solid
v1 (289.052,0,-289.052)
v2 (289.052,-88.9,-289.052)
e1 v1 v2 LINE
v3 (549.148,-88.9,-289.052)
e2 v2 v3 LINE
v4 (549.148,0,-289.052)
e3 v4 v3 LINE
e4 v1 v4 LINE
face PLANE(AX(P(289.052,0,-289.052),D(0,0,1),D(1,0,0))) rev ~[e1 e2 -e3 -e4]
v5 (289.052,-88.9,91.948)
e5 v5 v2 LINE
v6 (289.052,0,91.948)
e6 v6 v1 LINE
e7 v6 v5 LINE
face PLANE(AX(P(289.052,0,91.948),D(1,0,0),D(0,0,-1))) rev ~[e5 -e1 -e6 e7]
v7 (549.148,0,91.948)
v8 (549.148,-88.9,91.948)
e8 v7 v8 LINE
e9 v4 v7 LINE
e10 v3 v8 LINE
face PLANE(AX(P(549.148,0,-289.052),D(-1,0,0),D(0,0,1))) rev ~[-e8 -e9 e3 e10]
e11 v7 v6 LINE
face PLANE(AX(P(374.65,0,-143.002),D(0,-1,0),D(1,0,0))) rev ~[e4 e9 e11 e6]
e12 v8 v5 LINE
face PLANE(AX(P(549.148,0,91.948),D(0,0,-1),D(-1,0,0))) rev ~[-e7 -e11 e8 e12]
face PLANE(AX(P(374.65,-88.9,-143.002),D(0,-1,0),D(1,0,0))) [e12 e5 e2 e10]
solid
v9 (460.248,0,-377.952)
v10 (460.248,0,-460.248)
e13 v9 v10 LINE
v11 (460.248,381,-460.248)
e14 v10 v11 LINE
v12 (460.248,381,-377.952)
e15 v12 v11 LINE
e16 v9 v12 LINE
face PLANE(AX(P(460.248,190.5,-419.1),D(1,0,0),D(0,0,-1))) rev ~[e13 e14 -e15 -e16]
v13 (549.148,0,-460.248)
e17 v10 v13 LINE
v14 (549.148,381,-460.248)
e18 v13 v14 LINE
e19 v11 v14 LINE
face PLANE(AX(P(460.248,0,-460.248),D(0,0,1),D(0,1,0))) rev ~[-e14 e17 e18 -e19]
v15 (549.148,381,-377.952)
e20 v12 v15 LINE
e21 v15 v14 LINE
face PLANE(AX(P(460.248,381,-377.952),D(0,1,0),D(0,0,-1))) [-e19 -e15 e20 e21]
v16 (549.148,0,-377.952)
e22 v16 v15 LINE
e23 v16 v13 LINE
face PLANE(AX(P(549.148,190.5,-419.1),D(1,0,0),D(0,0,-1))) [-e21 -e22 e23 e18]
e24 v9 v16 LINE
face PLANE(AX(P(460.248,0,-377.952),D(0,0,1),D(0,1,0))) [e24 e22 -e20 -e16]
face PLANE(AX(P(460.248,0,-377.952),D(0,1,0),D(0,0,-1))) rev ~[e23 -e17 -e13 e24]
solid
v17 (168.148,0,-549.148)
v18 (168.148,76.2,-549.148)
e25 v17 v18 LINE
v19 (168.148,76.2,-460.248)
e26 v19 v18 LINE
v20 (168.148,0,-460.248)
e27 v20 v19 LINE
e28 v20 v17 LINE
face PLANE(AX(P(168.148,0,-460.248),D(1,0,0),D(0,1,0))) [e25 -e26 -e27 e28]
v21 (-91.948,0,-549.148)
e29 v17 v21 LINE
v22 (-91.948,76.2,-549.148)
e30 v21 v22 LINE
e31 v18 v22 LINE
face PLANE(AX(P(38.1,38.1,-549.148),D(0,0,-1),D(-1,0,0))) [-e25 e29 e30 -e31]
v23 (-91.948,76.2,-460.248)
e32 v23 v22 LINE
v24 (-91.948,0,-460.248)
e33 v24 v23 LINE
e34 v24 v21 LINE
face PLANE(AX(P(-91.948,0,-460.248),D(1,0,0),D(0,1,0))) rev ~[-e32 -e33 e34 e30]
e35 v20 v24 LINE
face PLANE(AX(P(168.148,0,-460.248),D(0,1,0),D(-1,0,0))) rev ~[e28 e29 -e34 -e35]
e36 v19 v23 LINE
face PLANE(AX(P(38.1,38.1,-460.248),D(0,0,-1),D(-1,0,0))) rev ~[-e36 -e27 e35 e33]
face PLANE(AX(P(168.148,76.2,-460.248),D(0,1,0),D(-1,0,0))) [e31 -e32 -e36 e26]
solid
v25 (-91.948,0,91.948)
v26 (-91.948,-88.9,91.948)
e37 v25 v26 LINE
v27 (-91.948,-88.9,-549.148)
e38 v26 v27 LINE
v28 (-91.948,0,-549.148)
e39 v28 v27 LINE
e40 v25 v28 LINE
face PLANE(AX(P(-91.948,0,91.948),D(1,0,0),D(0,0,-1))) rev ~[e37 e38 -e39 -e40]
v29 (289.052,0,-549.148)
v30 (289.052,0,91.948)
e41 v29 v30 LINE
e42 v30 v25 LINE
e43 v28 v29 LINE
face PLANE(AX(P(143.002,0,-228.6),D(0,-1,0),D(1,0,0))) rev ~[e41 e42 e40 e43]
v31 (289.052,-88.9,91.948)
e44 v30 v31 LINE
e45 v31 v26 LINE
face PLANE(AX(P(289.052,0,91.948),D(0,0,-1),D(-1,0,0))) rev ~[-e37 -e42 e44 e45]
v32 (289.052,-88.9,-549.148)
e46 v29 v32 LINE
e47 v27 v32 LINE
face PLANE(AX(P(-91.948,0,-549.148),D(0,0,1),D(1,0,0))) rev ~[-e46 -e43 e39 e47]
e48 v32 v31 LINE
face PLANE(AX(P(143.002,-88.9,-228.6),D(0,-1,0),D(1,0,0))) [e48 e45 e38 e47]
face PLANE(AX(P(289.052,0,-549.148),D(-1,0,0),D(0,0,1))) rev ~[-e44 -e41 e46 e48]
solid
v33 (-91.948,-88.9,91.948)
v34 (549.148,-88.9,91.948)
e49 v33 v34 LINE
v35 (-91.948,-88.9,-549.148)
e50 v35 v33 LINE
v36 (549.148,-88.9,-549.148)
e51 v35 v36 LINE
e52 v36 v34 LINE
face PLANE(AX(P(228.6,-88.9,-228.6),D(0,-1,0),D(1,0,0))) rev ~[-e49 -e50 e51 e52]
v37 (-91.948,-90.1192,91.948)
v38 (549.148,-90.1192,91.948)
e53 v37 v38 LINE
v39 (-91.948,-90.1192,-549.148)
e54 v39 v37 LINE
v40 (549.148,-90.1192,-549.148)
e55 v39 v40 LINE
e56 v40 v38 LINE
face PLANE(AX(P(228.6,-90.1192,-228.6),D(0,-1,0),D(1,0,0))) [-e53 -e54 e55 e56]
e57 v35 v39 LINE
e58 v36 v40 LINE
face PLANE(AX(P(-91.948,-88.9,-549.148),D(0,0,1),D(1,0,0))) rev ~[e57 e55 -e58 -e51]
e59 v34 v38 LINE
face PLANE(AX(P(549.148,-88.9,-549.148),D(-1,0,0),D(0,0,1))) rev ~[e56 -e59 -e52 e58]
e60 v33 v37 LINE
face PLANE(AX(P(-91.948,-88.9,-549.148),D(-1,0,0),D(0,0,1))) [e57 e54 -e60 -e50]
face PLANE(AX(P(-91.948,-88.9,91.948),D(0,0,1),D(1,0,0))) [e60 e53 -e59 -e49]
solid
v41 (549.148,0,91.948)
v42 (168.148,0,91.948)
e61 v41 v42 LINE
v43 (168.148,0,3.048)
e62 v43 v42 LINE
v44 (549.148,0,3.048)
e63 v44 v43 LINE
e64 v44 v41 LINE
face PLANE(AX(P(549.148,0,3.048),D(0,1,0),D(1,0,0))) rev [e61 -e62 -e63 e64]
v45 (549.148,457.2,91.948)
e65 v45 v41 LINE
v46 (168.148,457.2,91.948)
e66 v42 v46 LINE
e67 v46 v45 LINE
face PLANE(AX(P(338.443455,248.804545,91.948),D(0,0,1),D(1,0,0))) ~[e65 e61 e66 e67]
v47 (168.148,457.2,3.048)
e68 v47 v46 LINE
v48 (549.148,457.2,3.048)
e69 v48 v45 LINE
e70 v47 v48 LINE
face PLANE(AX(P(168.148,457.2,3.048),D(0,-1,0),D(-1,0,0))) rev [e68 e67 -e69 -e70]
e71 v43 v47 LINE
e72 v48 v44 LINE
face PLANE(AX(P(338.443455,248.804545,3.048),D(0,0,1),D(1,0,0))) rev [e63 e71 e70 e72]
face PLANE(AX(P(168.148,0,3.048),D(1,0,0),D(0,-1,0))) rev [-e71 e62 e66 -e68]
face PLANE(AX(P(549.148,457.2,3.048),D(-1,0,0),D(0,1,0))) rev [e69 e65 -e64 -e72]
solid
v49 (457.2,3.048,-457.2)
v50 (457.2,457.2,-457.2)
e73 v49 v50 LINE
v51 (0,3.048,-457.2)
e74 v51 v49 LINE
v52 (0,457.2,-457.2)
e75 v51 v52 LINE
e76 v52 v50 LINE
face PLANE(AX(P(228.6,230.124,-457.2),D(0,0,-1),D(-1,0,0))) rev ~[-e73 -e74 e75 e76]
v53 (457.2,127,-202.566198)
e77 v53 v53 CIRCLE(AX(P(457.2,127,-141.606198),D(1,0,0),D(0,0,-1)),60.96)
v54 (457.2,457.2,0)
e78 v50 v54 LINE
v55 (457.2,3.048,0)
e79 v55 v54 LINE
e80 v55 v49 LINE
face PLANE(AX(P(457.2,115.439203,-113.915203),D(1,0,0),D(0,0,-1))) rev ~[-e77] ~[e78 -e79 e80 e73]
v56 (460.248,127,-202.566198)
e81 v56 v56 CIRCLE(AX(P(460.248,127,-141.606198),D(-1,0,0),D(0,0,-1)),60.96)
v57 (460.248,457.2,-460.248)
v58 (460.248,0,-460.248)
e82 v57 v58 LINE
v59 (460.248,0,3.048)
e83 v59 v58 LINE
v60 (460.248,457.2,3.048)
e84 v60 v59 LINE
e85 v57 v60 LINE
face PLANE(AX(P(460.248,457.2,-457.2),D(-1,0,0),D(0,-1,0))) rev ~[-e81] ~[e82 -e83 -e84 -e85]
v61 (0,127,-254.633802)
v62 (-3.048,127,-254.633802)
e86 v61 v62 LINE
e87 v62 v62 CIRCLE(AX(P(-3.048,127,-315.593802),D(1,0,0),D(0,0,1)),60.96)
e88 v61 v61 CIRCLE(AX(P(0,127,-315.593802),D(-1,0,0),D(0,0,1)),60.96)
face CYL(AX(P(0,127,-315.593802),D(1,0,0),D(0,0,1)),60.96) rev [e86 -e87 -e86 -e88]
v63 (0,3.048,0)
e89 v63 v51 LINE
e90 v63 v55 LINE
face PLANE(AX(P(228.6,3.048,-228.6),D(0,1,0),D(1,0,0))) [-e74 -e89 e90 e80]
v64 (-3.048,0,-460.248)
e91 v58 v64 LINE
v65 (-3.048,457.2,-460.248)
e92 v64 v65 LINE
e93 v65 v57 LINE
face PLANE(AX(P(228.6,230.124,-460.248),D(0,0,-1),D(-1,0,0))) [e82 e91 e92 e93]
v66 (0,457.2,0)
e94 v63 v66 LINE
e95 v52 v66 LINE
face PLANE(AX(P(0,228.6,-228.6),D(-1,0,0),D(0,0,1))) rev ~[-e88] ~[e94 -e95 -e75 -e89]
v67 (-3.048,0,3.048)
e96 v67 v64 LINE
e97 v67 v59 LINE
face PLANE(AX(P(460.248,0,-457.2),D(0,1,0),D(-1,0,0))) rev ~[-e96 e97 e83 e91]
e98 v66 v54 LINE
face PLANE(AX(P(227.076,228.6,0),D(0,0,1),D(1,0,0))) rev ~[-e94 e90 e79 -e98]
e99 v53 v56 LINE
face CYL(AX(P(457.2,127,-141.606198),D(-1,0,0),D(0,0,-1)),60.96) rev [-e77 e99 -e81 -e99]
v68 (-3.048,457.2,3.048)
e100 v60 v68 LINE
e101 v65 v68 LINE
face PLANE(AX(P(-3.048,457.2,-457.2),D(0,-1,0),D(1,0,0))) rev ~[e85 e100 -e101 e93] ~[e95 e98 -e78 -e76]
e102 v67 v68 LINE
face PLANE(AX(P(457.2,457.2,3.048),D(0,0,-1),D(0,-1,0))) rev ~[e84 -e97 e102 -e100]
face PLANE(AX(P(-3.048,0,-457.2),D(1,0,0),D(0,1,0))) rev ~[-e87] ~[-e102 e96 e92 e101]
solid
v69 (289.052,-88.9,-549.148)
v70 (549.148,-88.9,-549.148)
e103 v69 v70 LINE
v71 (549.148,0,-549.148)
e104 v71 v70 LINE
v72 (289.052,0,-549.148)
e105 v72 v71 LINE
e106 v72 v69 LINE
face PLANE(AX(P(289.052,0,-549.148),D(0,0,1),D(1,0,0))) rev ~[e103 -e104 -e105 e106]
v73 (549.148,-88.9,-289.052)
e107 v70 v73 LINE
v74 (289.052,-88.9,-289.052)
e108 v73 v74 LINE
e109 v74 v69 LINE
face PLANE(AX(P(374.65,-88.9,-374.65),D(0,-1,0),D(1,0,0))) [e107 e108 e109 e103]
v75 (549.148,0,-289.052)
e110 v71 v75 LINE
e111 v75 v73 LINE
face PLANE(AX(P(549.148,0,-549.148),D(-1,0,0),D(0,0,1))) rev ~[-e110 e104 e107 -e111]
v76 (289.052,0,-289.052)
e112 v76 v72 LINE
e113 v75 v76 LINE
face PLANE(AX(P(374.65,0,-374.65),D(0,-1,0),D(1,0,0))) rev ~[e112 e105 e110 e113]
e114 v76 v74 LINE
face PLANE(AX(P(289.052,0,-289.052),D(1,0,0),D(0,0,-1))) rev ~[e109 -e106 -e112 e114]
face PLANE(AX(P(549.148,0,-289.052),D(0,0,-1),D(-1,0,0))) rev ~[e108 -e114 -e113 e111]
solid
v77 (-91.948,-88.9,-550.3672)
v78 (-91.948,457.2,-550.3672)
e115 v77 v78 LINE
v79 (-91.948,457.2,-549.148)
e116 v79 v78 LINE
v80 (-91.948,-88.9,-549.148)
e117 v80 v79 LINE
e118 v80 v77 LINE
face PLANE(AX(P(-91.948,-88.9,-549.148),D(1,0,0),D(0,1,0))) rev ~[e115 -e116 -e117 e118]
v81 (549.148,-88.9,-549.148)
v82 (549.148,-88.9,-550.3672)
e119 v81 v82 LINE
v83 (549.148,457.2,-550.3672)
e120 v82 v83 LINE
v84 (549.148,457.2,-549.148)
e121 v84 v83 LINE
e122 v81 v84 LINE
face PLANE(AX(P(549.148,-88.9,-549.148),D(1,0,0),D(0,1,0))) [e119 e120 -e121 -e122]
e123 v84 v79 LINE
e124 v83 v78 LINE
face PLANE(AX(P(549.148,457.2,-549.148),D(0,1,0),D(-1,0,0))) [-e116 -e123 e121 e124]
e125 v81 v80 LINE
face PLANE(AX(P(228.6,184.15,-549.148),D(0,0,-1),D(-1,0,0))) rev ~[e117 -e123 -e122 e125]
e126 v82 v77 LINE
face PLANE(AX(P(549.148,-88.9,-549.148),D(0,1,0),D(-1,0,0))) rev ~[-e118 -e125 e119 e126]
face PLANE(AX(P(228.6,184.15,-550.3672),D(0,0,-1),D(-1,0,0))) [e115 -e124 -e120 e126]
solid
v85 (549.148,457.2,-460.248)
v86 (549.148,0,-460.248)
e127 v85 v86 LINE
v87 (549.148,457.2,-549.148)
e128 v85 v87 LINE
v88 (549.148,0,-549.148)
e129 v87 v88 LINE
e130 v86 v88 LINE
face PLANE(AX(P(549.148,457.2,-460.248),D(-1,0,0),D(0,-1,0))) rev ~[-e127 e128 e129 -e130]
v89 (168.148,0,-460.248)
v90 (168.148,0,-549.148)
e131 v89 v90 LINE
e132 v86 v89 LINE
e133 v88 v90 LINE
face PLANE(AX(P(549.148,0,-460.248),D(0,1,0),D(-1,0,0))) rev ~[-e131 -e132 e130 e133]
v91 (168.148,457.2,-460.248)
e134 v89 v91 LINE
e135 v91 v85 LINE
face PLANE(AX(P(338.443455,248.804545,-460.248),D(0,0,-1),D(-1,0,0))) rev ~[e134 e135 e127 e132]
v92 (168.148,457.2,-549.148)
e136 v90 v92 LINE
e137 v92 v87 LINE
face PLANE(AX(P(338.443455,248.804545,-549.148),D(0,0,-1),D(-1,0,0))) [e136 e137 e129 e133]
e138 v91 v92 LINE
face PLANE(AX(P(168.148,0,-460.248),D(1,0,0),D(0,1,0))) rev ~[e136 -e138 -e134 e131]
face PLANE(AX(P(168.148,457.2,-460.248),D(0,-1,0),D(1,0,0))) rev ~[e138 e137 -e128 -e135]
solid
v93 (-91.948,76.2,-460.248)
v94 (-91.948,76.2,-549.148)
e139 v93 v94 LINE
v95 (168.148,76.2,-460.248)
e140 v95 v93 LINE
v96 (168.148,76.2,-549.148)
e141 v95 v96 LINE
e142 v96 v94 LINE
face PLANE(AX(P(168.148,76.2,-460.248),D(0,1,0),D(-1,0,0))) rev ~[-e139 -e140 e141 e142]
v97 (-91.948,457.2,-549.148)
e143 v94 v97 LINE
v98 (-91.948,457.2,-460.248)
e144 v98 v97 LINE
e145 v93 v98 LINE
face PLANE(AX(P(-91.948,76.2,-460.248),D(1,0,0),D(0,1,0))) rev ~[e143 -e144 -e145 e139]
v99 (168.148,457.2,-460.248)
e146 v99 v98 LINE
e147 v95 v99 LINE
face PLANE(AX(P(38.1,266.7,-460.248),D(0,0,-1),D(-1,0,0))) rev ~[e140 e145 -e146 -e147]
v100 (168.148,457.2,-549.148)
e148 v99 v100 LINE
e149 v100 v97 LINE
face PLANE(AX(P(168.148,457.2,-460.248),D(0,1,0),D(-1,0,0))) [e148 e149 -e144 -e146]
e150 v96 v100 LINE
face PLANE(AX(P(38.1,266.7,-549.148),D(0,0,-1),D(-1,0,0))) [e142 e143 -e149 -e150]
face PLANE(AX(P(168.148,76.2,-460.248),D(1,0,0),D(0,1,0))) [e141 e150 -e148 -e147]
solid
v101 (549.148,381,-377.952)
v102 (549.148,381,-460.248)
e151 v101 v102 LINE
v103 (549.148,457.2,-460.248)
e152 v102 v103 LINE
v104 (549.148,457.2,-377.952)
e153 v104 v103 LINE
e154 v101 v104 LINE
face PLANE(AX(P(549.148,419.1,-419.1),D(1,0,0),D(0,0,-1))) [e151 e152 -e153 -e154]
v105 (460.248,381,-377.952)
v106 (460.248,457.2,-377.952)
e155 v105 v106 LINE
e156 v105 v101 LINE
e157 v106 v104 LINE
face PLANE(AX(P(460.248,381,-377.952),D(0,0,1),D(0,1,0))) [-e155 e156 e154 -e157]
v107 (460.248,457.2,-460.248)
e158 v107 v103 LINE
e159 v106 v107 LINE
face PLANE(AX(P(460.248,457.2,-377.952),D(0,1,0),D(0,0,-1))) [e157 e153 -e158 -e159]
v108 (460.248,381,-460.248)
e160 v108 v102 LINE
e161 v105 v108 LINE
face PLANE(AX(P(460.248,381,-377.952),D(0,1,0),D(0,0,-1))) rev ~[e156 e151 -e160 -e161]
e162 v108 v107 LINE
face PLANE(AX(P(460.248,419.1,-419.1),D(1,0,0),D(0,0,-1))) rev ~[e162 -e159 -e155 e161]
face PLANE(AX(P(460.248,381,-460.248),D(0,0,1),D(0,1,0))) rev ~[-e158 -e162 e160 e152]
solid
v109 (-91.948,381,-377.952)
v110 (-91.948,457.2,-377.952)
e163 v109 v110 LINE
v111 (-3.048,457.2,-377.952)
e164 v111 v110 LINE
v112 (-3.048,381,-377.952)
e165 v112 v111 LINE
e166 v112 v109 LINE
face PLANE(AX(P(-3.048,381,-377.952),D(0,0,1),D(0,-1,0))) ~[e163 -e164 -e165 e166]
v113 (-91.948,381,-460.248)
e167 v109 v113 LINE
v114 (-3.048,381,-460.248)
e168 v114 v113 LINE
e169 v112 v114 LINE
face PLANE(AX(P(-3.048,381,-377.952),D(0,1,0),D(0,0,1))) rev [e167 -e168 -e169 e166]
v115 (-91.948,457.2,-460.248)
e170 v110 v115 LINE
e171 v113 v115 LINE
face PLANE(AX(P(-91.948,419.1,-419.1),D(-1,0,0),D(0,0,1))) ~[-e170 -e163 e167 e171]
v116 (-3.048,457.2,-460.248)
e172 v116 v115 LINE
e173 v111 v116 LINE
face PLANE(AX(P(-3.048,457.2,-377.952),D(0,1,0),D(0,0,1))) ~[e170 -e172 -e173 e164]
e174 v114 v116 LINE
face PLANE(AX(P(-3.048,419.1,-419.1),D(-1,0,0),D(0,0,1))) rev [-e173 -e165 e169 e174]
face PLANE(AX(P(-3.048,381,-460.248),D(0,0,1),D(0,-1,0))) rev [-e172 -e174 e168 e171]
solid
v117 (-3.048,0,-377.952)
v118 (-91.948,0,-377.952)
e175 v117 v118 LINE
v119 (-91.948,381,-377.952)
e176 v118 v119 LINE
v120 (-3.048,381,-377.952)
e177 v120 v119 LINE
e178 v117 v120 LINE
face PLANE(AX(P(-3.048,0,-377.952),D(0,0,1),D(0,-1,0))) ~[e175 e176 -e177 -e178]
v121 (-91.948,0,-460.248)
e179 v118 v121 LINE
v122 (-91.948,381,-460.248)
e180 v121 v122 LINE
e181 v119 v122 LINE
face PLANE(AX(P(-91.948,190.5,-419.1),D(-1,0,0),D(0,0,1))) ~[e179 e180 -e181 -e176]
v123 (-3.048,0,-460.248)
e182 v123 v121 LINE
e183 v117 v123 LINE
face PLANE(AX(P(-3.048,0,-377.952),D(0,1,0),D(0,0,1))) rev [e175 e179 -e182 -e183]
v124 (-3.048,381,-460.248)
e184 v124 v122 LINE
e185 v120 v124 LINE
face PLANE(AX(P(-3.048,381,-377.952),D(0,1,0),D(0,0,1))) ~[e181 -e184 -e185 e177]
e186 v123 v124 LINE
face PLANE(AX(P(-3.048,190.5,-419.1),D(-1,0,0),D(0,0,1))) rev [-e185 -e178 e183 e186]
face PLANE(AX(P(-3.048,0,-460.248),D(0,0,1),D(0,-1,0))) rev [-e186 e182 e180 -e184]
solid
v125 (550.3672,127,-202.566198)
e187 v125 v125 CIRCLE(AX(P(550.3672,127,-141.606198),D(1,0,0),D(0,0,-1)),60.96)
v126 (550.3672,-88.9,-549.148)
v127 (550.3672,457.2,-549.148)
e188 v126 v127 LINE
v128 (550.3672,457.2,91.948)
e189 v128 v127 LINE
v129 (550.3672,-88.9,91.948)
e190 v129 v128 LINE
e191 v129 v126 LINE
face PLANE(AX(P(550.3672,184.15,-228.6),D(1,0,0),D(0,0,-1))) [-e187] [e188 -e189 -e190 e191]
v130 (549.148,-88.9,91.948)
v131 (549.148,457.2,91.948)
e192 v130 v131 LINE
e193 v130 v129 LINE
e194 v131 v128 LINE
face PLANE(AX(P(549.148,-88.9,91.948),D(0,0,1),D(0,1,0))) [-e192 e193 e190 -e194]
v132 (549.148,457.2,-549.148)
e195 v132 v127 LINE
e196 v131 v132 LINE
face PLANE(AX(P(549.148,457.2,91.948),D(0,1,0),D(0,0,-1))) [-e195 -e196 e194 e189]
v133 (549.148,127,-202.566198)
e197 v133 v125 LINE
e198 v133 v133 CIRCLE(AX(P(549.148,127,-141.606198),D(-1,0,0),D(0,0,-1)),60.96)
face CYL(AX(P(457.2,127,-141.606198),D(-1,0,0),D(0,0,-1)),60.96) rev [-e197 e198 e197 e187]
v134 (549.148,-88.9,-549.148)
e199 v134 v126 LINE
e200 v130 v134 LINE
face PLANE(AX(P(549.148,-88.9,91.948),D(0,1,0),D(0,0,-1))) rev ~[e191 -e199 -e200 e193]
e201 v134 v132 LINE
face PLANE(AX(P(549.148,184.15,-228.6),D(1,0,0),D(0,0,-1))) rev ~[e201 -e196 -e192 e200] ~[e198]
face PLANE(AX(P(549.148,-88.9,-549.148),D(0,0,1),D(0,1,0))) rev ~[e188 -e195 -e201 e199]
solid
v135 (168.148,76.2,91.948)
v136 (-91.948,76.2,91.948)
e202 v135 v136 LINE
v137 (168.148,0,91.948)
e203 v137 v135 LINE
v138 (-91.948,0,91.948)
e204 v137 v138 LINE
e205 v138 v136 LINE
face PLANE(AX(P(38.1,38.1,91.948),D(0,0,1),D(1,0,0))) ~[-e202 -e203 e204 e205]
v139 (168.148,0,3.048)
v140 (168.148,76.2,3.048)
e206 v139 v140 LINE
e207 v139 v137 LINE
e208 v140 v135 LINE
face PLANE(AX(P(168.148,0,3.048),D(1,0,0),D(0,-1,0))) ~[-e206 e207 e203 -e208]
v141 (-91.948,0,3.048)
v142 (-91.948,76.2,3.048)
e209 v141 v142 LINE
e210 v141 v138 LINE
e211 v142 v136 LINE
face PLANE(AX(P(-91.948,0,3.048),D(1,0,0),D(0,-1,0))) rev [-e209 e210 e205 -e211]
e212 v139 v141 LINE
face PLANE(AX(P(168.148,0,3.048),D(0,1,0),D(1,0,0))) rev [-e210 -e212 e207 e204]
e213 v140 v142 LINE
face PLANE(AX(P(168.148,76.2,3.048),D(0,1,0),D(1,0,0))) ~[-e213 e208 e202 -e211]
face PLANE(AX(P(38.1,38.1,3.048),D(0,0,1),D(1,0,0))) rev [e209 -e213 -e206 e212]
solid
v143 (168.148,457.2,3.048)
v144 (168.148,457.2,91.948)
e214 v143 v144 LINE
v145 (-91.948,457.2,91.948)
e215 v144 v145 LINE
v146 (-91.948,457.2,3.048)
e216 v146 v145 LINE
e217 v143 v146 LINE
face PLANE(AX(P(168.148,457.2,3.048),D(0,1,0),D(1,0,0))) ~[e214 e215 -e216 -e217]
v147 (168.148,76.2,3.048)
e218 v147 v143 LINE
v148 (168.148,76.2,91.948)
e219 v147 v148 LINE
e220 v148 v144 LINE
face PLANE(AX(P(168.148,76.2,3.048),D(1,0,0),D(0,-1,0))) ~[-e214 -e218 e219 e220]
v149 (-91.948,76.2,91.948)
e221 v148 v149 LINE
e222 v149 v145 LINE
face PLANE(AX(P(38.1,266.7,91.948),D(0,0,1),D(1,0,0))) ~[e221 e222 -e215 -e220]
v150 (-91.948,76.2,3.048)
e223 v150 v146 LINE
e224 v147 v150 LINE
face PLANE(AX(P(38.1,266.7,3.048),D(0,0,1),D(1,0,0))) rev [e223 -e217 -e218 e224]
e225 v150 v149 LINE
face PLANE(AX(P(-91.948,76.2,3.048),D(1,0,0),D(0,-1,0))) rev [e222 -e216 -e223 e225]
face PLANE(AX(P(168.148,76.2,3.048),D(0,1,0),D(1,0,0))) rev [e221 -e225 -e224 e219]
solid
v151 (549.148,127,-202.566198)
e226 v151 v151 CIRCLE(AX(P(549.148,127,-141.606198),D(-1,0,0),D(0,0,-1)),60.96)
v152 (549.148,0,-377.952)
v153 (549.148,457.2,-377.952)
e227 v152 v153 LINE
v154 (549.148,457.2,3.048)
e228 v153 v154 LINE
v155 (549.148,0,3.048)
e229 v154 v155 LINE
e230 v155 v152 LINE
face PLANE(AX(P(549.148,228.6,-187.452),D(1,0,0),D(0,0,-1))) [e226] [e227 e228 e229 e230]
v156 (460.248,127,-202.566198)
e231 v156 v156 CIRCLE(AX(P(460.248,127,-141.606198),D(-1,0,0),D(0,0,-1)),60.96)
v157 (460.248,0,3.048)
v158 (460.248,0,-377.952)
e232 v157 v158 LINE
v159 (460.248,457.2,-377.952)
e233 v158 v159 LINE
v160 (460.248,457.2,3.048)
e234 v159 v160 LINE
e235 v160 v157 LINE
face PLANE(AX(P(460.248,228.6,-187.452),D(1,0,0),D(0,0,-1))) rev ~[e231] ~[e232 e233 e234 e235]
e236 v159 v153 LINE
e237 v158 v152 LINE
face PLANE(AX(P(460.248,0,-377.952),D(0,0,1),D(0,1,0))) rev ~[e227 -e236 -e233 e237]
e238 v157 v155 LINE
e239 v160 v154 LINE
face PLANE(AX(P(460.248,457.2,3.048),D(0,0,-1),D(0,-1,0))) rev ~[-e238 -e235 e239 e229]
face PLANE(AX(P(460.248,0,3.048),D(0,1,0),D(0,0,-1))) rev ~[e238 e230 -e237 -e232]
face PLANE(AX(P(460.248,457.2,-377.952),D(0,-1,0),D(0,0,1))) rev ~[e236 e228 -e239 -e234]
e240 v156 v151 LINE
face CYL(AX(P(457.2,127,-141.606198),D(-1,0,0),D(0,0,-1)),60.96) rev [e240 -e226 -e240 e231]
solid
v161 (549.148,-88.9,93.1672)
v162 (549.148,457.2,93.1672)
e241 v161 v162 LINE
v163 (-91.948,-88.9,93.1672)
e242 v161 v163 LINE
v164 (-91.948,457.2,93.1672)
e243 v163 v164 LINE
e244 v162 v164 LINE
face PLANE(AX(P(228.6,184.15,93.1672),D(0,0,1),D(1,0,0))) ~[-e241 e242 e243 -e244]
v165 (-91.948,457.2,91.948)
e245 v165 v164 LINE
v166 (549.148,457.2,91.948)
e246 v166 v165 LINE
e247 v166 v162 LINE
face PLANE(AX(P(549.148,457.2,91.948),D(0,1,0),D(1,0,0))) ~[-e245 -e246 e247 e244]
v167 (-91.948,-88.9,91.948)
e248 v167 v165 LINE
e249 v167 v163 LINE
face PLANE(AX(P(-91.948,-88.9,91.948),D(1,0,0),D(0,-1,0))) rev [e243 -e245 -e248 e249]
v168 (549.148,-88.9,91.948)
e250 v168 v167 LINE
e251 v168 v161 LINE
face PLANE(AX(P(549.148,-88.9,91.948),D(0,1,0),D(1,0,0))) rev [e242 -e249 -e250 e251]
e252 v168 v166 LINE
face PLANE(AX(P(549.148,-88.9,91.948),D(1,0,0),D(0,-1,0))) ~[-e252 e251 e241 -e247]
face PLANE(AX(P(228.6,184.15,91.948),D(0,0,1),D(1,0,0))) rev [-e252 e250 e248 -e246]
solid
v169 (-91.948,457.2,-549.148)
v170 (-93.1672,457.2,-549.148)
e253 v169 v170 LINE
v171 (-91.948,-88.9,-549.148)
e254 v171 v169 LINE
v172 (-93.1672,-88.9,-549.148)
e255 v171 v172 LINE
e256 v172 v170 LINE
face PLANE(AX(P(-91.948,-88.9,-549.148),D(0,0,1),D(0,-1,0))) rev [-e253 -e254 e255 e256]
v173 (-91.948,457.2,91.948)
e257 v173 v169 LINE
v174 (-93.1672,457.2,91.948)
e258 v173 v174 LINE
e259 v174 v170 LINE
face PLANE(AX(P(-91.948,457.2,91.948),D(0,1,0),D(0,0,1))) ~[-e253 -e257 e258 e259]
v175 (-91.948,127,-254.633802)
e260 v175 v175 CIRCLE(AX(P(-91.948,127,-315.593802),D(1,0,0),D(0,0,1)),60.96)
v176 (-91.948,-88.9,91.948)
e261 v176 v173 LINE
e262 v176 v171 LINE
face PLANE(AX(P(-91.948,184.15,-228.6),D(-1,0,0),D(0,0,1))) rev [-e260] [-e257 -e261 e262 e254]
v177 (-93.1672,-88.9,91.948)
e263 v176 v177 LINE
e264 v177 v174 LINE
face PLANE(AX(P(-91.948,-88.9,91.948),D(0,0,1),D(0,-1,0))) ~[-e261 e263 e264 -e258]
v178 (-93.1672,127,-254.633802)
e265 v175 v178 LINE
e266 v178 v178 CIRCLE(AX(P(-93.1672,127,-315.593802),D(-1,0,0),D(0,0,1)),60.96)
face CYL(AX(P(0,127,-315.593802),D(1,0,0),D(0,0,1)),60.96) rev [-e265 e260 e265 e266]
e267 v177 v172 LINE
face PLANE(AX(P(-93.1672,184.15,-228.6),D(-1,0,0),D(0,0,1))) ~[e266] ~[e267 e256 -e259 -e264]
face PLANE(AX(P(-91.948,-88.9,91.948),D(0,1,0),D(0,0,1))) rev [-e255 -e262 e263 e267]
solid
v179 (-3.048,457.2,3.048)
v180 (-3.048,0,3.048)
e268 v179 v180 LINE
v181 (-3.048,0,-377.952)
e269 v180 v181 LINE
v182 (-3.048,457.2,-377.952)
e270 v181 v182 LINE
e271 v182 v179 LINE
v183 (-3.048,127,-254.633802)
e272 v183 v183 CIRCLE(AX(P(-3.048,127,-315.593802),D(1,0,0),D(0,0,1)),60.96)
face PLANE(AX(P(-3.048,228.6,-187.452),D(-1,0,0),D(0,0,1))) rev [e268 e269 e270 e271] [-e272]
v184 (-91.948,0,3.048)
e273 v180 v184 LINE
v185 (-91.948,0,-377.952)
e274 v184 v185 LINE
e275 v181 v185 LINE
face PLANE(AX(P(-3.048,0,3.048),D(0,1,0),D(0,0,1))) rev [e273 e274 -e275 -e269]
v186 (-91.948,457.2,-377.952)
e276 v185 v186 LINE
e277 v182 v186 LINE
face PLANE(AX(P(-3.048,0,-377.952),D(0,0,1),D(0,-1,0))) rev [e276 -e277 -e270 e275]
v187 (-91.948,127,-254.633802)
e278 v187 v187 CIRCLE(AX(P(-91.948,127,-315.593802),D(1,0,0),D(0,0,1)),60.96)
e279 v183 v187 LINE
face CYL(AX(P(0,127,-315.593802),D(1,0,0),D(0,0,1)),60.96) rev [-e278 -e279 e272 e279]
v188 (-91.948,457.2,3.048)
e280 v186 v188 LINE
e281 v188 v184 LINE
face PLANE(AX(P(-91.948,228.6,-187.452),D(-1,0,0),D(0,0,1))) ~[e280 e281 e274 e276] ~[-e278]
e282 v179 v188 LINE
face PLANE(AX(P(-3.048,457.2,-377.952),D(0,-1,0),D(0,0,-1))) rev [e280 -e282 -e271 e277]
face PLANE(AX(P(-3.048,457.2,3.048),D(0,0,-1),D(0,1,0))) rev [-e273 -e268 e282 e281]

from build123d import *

# Parameters (mm, degrees)
SKETCH1_W            = 457.2
SKETCH1_H            = 457.2
BOSS_EXTRUDE1_DEPTH  = 3.048
SKETCH2_W            = 457.2
SKETCH2_H            = 457.2
BOSS_EXTRUDE2_DEPTH  = 3.048
SKETCH3_W            = 460.248
SKETCH3_H            = 457.2
BOSS_EXTRUDE3_DEPTH  = 3.048
SKETCH4_W            = 457.2
SKETCH4_H            = 454.152
BOSS_EXTRUDE4_DEPTH  = 3.048
SKETCH5_W            = 457.2
SKETCH5_H            = 454.152
BOSS_EXTRUDE5_DEPTH  = 3.048
BOSS_EXTRUDE6_DEPTH  = 88.9
SKETCH6_3_W          = 82.296
SKETCH6_3_H          = 76.2
BOSS_EXTRUDE7_DEPTH  = 88.9
SKETCH6_4_W          = 82.296
SKETCH6_4_H          = 381
BOSS_EXTRUDE8_DEPTH  = 88.9
SKETCH7_W            = 88.9
SKETCH7_H            = 381
BOSS_EXTRUDE9_DEPTH  = 88.9
SKETCH7_3_W          = 260.096
SKETCH7_3_H          = 381
BOSS_EXTRUDE10_DEPTH = 88.9
SKETCH7_4_W          = 260.096
SKETCH7_4_H          = 76.2
BOSS_EXTRUDE11_DEPTH = 88.9
BOSS_EXTRUDE12_DEPTH = 88.9
SKETCH8_3_W          = 171.196
SKETCH8_3_H          = 292.1
BOSS_EXTRUDE13_DEPTH = 88.9
SKETCH8_4_W          = 171.196
SKETCH8_4_H          = 171.196
BOSS_EXTRUDE14_DEPTH = 88.9
SKETCH9_W            = 641.096
SKETCH9_H            = 546.1
BOSS_EXTRUDE15_DEPTH = 1.2192
SKETCH10_W           = 641.096
SKETCH10_H           = 546.1
BOSS_EXTRUDE16_DEPTH = 1.2192
SKETCH11_W           = 641.096
SKETCH11_H           = 641.096
BOSS_EXTRUDE17_DEPTH = 1.2192
CUT_EXTRUDE1_START   = -93.1672
SKETCH12_R           = 60.96
CUT_EXTRUDE1_DEPTH   = 93.1672
CIRPATTERN1_COUNT    = 2


with BuildPart() as part:
    # Sketch1 → Boss-Extrude1 (new body)
    with BuildSketch(Plane(origin=(0, 0, 0), x_dir=(1, 0, 0), z_dir=(0, 1, 0))):
        with Locations((228.6, 228.6)):
            Rectangle(SKETCH1_W, SKETCH1_H)
    extrude(amount=BOSS_EXTRUDE1_DEPTH)

    # Sketch2 → Boss-Extrude2 (add)
    with BuildSketch(Plane.ZY):
        with Locations((-228.6, 228.6)):
            Rectangle(SKETCH2_W, SKETCH2_H)
    extrude(amount=BOSS_EXTRUDE2_DEPTH)

    # Sketch3 → Boss-Extrude3 (add)
    with BuildSketch(Plane.XY):
        with Locations((227.076, 228.6)):
            Rectangle(SKETCH3_W, SKETCH3_H)
    extrude(amount=BOSS_EXTRUDE3_DEPTH)

    # Sketch4 → Boss-Extrude4 (add)
    with BuildSketch(Plane(origin=(457.2, 0, 0), x_dir=(0, 0, -1), z_dir=(1, 0, 0))):
        Polygon((-3.048, 457.2), (-3.048, 0), (457.2, 0), (457.2, 3.048), (0, 3.048), (0, 457.2), align=None)
        with Locations((228.6, 230.124)):
            Rectangle(SKETCH4_W, SKETCH4_H)
    extrude(amount=BOSS_EXTRUDE4_DEPTH)

    # Sketch5 → Boss-Extrude5 (add)
    with BuildSketch(Plane(origin=(0, 0, -457.2), x_dir=(-1, 0, 0), z_dir=(0, 0, -1))):
        with Locations((-228.6, 230.124)):
            Rectangle(SKETCH5_W, SKETCH5_H)
        Polygon((-460.248, 457.2), (-460.248, 0), (3.048, 0), (3.048, 457.2), (0, 457.2), (0, 3.048), (-457.2, 3.048), (-457.2, 457.2), align=None)
    extrude(amount=BOSS_EXTRUDE5_DEPTH)


with BuildPart() as body_2:
    # Sketch6 → Boss-Extrude6 (new body)
    with BuildSketch(Plane(origin=(460.248, 0, 0), x_dir=(0, 0, -1), z_dir=(1, 0, 0))):
        Polygon((377.952, 457.2), (-3.048, 457.2), (-3.048, 0), (377.952, 0), (377.952, 381), align=None)
    extrude(amount=BOSS_EXTRUDE6_DEPTH)


with BuildPart() as body_3:
    # Sketch6<3> → Boss-Extrude7 (new body)
    with BuildSketch(Plane(origin=(460.248, 0, 0), x_dir=(0, 0, -1), z_dir=(1, 0, 0))):
        with Locations((419.1, 419.1)):
            Rectangle(SKETCH6_3_W, SKETCH6_3_H)
    extrude(amount=BOSS_EXTRUDE7_DEPTH)


with BuildPart() as body_4:
    # Sketch6<4> → Boss-Extrude8 (new body)
    with BuildSketch(Plane(origin=(460.248, 0, 0), x_dir=(0, 0, -1), z_dir=(1, 0, 0))):
        with Locations((419.1, 190.5)):
            Rectangle(SKETCH6_4_W, SKETCH6_4_H)
    extrude(amount=BOSS_EXTRUDE8_DEPTH)


with BuildPart() as body_5:
    # Mirror1: mirrored copy
    add(body_3.part.mirror(Plane(origin=(228.6, 0, 0), x_dir=(0, 0, 1), z_dir=(1, 0, 0))))


with BuildPart() as body_6:
    # Mirror1 2: mirrored copy
    add(body_2.part.mirror(Plane(origin=(228.6, 0, 0), x_dir=(0, 0, 1), z_dir=(1, 0, 0))))


with BuildPart() as body_7:
    # Mirror1 3: mirrored copy
    add(body_4.part.mirror(Plane(origin=(228.6, 0, 0), x_dir=(0, 0, 1), z_dir=(1, 0, 0))))


with BuildPart() as body_8:
    # Sketch7 → Boss-Extrude9 (new body)
    with BuildSketch(Plane(origin=(0, 0, -460.248), x_dir=(-1, 0, 0), z_dir=(0, 0, -1))):
        Polygon((-168.148, 457.2), (-549.148, 457.2), (-549.148, 381), (-460.248, 381), (-460.248, 0), (-168.148, 0), (-168.148, 76.2), align=None)
        with Locations((-504.698, 190.5)):
            Rectangle(SKETCH7_W, SKETCH7_H)
    extrude(amount=BOSS_EXTRUDE9_DEPTH)


with BuildPart() as body_9:
    # Sketch7<3> → Boss-Extrude10 (new body)
    with BuildSketch(Plane(origin=(0, 0, -460.248), x_dir=(-1, 0, 0), z_dir=(0, 0, -1))):
        with Locations((-38.1, 266.7)):
            Rectangle(SKETCH7_3_W, SKETCH7_3_H)
    extrude(amount=BOSS_EXTRUDE10_DEPTH)


with BuildPart() as body_10:
    # Sketch7<4> → Boss-Extrude11 (new body)
    with BuildSketch(Plane(origin=(0, 0, -460.248), x_dir=(-1, 0, 0), z_dir=(0, 0, -1))):
        with Locations((-38.1, 38.1)):
            Rectangle(SKETCH7_4_W, SKETCH7_4_H)
    extrude(amount=BOSS_EXTRUDE11_DEPTH)


with BuildPart() as body_11:
    # Mirror2: mirrored copy
    add(body_9.part.mirror(Plane(origin=(0, 0, -228.6), x_dir=(1, 0, 0), z_dir=(0, 0, -1))))


with BuildPart() as body_12:
    # Mirror2 2: mirrored copy
    add(body_8.part.mirror(Plane(origin=(0, 0, -228.6), x_dir=(1, 0, 0), z_dir=(0, 0, -1))))


with BuildPart() as body_13:
    # Mirror2 3: mirrored copy
    add(body_10.part.mirror(Plane(origin=(0, 0, -228.6), x_dir=(1, 0, 0), z_dir=(0, 0, -1))))


with BuildPart() as body_14:
    # Sketch8 → Boss-Extrude12 (new body)
    with BuildSketch(Plane.XZ):
        Polygon((289.052, -289.052), (289.052, 3.048), (-3.048, 3.048), (-3.048, -460.248), (289.052, -460.248), align=None)
        Polygon((289.052, 91.948), (-91.948, 91.948), (-91.948, -549.148), (289.052, -549.148), (289.052, -460.248), (-3.048, -460.248), (-3.048, 3.048), (289.052, 3.048), align=None)
    extrude(amount=BOSS_EXTRUDE12_DEPTH)


with BuildPart() as body_15:
    # Sketch8<3> → Boss-Extrude13 (new body)
    with BuildSketch(Plane.XZ):
        with Locations((374.65, -143.002)):
            Rectangle(SKETCH8_3_W, SKETCH8_3_H)
        Polygon((549.148, 91.948), (289.052, 91.948), (289.052, 3.048), (460.248, 3.048), (460.248, -289.052), (549.148, -289.052), align=None)
    extrude(amount=BOSS_EXTRUDE13_DEPTH)


with BuildPart() as body_16:
    # Sketch8<4> → Boss-Extrude14 (new body)
    with BuildSketch(Plane.XZ):
        with Locations((374.65, -374.65)):
            Rectangle(SKETCH8_4_W, SKETCH8_4_H)
        Polygon((289.052, -460.248), (289.052, -549.148), (549.148, -549.148), (549.148, -289.052), (460.248, -289.052), (460.248, -460.248), align=None)
    extrude(amount=BOSS_EXTRUDE14_DEPTH)


with BuildPart() as body_17:
    # Sketch9 → Boss-Extrude15 (new body)
    with BuildSketch(Plane(origin=(549.148, 0, 0), x_dir=(0, 0, -1), z_dir=(1, 0, 0))):
        with Locations((228.6, 184.15)):
            Rectangle(SKETCH9_W, SKETCH9_H)
    extrude(amount=BOSS_EXTRUDE15_DEPTH)


with BuildPart() as body_18:
    # Sketch10 → Boss-Extrude16 (new body)
    with BuildSketch(Plane(origin=(0, 0, -549.148), x_dir=(-1, 0, 0), z_dir=(0, 0, -1))):
        with Locations((-228.6, 184.15)):
            Rectangle(SKETCH10_W, SKETCH10_H)
    extrude(amount=BOSS_EXTRUDE16_DEPTH)


with BuildPart() as body_19:
    # Mirror3: mirrored copy
    add(body_17.part.mirror(Plane(origin=(228.6, 0, 0), x_dir=(0, 0, 1), z_dir=(1, 0, 0))))


with BuildPart() as body_20:
    # Mirror4: mirrored copy
    add(body_18.part.mirror(Plane(origin=(0, 0, -228.6), x_dir=(1, 0, 0), z_dir=(0, 0, -1))))


with BuildPart() as body_21:
    # Sketch11 → Boss-Extrude17 (new body)
    with BuildSketch(Plane.XZ.offset(88.9)):
        with Locations((228.6, -228.6)):
            Rectangle(SKETCH11_W, SKETCH11_H)
    extrude(amount=BOSS_EXTRUDE17_DEPTH)


with BuildPart() as cut_extrude1_tool:
    # Sketch12 → Cut-Extrude1 (new body)
    with BuildSketch(Plane.ZY.offset(93.1672).offset(CUT_EXTRUDE1_START)):
        with Locations((-315.593802346, 127)):
            Circle(SKETCH12_R)
    cut_extrude1 = extrude(amount=CUT_EXTRUDE1_DEPTH)


with BuildPart() as part_1:
    add(part.part)

    # Cut-Extrude1: cut by cut_extrude1_tool
    add(cut_extrude1_tool.part, mode=Mode.SUBTRACT)


with BuildPart() as body_6_1:
    add(body_6.part)

    # Cut-Extrude1: cut by cut_extrude1_tool
    add(cut_extrude1_tool.part, mode=Mode.SUBTRACT)


with BuildPart() as body_19_1:
    add(body_19.part)

    # Cut-Extrude1: cut by cut_extrude1_tool
    add(cut_extrude1_tool.part, mode=Mode.SUBTRACT)


with BuildPart() as cirpattern1_tool:
    # CirPattern1: Cut-Extrude1 ×2 about axis
    cirpattern1_axis = Axis((228.6, 479.9076, -228.6), (0, -1, 0))
    for i in range(1, CIRPATTERN1_COUNT):
        add(cut_extrude1.rotate(cirpattern1_axis, i * 360 / CIRPATTERN1_COUNT))


with BuildPart() as part_2:
    add(part_1.part)

    # CirPattern1: cut by cirpattern1_tool
    add(cirpattern1_tool.part, mode=Mode.SUBTRACT)


with BuildPart() as body_2_1:
    add(body_2.part)

    # CirPattern1: cut by cirpattern1_tool
    add(cirpattern1_tool.part, mode=Mode.SUBTRACT)


with BuildPart() as body_17_1:
    add(body_17.part)

    # CirPattern1: cut by cirpattern1_tool
    add(cirpattern1_tool.part, mode=Mode.SUBTRACT)


solid = Compound([body_3.part, body_4.part, body_5.part, body_7.part, body_8.part, body_9.part, body_10.part, body_11.part, body_12.part, body_13.part, body_14.part, body_15.part, body_16.part, body_18.part, body_20.part, body_21.part, body_6_1.part, body_19_1.part, part_2.part, body_2_1.part, body_17_1.part])
